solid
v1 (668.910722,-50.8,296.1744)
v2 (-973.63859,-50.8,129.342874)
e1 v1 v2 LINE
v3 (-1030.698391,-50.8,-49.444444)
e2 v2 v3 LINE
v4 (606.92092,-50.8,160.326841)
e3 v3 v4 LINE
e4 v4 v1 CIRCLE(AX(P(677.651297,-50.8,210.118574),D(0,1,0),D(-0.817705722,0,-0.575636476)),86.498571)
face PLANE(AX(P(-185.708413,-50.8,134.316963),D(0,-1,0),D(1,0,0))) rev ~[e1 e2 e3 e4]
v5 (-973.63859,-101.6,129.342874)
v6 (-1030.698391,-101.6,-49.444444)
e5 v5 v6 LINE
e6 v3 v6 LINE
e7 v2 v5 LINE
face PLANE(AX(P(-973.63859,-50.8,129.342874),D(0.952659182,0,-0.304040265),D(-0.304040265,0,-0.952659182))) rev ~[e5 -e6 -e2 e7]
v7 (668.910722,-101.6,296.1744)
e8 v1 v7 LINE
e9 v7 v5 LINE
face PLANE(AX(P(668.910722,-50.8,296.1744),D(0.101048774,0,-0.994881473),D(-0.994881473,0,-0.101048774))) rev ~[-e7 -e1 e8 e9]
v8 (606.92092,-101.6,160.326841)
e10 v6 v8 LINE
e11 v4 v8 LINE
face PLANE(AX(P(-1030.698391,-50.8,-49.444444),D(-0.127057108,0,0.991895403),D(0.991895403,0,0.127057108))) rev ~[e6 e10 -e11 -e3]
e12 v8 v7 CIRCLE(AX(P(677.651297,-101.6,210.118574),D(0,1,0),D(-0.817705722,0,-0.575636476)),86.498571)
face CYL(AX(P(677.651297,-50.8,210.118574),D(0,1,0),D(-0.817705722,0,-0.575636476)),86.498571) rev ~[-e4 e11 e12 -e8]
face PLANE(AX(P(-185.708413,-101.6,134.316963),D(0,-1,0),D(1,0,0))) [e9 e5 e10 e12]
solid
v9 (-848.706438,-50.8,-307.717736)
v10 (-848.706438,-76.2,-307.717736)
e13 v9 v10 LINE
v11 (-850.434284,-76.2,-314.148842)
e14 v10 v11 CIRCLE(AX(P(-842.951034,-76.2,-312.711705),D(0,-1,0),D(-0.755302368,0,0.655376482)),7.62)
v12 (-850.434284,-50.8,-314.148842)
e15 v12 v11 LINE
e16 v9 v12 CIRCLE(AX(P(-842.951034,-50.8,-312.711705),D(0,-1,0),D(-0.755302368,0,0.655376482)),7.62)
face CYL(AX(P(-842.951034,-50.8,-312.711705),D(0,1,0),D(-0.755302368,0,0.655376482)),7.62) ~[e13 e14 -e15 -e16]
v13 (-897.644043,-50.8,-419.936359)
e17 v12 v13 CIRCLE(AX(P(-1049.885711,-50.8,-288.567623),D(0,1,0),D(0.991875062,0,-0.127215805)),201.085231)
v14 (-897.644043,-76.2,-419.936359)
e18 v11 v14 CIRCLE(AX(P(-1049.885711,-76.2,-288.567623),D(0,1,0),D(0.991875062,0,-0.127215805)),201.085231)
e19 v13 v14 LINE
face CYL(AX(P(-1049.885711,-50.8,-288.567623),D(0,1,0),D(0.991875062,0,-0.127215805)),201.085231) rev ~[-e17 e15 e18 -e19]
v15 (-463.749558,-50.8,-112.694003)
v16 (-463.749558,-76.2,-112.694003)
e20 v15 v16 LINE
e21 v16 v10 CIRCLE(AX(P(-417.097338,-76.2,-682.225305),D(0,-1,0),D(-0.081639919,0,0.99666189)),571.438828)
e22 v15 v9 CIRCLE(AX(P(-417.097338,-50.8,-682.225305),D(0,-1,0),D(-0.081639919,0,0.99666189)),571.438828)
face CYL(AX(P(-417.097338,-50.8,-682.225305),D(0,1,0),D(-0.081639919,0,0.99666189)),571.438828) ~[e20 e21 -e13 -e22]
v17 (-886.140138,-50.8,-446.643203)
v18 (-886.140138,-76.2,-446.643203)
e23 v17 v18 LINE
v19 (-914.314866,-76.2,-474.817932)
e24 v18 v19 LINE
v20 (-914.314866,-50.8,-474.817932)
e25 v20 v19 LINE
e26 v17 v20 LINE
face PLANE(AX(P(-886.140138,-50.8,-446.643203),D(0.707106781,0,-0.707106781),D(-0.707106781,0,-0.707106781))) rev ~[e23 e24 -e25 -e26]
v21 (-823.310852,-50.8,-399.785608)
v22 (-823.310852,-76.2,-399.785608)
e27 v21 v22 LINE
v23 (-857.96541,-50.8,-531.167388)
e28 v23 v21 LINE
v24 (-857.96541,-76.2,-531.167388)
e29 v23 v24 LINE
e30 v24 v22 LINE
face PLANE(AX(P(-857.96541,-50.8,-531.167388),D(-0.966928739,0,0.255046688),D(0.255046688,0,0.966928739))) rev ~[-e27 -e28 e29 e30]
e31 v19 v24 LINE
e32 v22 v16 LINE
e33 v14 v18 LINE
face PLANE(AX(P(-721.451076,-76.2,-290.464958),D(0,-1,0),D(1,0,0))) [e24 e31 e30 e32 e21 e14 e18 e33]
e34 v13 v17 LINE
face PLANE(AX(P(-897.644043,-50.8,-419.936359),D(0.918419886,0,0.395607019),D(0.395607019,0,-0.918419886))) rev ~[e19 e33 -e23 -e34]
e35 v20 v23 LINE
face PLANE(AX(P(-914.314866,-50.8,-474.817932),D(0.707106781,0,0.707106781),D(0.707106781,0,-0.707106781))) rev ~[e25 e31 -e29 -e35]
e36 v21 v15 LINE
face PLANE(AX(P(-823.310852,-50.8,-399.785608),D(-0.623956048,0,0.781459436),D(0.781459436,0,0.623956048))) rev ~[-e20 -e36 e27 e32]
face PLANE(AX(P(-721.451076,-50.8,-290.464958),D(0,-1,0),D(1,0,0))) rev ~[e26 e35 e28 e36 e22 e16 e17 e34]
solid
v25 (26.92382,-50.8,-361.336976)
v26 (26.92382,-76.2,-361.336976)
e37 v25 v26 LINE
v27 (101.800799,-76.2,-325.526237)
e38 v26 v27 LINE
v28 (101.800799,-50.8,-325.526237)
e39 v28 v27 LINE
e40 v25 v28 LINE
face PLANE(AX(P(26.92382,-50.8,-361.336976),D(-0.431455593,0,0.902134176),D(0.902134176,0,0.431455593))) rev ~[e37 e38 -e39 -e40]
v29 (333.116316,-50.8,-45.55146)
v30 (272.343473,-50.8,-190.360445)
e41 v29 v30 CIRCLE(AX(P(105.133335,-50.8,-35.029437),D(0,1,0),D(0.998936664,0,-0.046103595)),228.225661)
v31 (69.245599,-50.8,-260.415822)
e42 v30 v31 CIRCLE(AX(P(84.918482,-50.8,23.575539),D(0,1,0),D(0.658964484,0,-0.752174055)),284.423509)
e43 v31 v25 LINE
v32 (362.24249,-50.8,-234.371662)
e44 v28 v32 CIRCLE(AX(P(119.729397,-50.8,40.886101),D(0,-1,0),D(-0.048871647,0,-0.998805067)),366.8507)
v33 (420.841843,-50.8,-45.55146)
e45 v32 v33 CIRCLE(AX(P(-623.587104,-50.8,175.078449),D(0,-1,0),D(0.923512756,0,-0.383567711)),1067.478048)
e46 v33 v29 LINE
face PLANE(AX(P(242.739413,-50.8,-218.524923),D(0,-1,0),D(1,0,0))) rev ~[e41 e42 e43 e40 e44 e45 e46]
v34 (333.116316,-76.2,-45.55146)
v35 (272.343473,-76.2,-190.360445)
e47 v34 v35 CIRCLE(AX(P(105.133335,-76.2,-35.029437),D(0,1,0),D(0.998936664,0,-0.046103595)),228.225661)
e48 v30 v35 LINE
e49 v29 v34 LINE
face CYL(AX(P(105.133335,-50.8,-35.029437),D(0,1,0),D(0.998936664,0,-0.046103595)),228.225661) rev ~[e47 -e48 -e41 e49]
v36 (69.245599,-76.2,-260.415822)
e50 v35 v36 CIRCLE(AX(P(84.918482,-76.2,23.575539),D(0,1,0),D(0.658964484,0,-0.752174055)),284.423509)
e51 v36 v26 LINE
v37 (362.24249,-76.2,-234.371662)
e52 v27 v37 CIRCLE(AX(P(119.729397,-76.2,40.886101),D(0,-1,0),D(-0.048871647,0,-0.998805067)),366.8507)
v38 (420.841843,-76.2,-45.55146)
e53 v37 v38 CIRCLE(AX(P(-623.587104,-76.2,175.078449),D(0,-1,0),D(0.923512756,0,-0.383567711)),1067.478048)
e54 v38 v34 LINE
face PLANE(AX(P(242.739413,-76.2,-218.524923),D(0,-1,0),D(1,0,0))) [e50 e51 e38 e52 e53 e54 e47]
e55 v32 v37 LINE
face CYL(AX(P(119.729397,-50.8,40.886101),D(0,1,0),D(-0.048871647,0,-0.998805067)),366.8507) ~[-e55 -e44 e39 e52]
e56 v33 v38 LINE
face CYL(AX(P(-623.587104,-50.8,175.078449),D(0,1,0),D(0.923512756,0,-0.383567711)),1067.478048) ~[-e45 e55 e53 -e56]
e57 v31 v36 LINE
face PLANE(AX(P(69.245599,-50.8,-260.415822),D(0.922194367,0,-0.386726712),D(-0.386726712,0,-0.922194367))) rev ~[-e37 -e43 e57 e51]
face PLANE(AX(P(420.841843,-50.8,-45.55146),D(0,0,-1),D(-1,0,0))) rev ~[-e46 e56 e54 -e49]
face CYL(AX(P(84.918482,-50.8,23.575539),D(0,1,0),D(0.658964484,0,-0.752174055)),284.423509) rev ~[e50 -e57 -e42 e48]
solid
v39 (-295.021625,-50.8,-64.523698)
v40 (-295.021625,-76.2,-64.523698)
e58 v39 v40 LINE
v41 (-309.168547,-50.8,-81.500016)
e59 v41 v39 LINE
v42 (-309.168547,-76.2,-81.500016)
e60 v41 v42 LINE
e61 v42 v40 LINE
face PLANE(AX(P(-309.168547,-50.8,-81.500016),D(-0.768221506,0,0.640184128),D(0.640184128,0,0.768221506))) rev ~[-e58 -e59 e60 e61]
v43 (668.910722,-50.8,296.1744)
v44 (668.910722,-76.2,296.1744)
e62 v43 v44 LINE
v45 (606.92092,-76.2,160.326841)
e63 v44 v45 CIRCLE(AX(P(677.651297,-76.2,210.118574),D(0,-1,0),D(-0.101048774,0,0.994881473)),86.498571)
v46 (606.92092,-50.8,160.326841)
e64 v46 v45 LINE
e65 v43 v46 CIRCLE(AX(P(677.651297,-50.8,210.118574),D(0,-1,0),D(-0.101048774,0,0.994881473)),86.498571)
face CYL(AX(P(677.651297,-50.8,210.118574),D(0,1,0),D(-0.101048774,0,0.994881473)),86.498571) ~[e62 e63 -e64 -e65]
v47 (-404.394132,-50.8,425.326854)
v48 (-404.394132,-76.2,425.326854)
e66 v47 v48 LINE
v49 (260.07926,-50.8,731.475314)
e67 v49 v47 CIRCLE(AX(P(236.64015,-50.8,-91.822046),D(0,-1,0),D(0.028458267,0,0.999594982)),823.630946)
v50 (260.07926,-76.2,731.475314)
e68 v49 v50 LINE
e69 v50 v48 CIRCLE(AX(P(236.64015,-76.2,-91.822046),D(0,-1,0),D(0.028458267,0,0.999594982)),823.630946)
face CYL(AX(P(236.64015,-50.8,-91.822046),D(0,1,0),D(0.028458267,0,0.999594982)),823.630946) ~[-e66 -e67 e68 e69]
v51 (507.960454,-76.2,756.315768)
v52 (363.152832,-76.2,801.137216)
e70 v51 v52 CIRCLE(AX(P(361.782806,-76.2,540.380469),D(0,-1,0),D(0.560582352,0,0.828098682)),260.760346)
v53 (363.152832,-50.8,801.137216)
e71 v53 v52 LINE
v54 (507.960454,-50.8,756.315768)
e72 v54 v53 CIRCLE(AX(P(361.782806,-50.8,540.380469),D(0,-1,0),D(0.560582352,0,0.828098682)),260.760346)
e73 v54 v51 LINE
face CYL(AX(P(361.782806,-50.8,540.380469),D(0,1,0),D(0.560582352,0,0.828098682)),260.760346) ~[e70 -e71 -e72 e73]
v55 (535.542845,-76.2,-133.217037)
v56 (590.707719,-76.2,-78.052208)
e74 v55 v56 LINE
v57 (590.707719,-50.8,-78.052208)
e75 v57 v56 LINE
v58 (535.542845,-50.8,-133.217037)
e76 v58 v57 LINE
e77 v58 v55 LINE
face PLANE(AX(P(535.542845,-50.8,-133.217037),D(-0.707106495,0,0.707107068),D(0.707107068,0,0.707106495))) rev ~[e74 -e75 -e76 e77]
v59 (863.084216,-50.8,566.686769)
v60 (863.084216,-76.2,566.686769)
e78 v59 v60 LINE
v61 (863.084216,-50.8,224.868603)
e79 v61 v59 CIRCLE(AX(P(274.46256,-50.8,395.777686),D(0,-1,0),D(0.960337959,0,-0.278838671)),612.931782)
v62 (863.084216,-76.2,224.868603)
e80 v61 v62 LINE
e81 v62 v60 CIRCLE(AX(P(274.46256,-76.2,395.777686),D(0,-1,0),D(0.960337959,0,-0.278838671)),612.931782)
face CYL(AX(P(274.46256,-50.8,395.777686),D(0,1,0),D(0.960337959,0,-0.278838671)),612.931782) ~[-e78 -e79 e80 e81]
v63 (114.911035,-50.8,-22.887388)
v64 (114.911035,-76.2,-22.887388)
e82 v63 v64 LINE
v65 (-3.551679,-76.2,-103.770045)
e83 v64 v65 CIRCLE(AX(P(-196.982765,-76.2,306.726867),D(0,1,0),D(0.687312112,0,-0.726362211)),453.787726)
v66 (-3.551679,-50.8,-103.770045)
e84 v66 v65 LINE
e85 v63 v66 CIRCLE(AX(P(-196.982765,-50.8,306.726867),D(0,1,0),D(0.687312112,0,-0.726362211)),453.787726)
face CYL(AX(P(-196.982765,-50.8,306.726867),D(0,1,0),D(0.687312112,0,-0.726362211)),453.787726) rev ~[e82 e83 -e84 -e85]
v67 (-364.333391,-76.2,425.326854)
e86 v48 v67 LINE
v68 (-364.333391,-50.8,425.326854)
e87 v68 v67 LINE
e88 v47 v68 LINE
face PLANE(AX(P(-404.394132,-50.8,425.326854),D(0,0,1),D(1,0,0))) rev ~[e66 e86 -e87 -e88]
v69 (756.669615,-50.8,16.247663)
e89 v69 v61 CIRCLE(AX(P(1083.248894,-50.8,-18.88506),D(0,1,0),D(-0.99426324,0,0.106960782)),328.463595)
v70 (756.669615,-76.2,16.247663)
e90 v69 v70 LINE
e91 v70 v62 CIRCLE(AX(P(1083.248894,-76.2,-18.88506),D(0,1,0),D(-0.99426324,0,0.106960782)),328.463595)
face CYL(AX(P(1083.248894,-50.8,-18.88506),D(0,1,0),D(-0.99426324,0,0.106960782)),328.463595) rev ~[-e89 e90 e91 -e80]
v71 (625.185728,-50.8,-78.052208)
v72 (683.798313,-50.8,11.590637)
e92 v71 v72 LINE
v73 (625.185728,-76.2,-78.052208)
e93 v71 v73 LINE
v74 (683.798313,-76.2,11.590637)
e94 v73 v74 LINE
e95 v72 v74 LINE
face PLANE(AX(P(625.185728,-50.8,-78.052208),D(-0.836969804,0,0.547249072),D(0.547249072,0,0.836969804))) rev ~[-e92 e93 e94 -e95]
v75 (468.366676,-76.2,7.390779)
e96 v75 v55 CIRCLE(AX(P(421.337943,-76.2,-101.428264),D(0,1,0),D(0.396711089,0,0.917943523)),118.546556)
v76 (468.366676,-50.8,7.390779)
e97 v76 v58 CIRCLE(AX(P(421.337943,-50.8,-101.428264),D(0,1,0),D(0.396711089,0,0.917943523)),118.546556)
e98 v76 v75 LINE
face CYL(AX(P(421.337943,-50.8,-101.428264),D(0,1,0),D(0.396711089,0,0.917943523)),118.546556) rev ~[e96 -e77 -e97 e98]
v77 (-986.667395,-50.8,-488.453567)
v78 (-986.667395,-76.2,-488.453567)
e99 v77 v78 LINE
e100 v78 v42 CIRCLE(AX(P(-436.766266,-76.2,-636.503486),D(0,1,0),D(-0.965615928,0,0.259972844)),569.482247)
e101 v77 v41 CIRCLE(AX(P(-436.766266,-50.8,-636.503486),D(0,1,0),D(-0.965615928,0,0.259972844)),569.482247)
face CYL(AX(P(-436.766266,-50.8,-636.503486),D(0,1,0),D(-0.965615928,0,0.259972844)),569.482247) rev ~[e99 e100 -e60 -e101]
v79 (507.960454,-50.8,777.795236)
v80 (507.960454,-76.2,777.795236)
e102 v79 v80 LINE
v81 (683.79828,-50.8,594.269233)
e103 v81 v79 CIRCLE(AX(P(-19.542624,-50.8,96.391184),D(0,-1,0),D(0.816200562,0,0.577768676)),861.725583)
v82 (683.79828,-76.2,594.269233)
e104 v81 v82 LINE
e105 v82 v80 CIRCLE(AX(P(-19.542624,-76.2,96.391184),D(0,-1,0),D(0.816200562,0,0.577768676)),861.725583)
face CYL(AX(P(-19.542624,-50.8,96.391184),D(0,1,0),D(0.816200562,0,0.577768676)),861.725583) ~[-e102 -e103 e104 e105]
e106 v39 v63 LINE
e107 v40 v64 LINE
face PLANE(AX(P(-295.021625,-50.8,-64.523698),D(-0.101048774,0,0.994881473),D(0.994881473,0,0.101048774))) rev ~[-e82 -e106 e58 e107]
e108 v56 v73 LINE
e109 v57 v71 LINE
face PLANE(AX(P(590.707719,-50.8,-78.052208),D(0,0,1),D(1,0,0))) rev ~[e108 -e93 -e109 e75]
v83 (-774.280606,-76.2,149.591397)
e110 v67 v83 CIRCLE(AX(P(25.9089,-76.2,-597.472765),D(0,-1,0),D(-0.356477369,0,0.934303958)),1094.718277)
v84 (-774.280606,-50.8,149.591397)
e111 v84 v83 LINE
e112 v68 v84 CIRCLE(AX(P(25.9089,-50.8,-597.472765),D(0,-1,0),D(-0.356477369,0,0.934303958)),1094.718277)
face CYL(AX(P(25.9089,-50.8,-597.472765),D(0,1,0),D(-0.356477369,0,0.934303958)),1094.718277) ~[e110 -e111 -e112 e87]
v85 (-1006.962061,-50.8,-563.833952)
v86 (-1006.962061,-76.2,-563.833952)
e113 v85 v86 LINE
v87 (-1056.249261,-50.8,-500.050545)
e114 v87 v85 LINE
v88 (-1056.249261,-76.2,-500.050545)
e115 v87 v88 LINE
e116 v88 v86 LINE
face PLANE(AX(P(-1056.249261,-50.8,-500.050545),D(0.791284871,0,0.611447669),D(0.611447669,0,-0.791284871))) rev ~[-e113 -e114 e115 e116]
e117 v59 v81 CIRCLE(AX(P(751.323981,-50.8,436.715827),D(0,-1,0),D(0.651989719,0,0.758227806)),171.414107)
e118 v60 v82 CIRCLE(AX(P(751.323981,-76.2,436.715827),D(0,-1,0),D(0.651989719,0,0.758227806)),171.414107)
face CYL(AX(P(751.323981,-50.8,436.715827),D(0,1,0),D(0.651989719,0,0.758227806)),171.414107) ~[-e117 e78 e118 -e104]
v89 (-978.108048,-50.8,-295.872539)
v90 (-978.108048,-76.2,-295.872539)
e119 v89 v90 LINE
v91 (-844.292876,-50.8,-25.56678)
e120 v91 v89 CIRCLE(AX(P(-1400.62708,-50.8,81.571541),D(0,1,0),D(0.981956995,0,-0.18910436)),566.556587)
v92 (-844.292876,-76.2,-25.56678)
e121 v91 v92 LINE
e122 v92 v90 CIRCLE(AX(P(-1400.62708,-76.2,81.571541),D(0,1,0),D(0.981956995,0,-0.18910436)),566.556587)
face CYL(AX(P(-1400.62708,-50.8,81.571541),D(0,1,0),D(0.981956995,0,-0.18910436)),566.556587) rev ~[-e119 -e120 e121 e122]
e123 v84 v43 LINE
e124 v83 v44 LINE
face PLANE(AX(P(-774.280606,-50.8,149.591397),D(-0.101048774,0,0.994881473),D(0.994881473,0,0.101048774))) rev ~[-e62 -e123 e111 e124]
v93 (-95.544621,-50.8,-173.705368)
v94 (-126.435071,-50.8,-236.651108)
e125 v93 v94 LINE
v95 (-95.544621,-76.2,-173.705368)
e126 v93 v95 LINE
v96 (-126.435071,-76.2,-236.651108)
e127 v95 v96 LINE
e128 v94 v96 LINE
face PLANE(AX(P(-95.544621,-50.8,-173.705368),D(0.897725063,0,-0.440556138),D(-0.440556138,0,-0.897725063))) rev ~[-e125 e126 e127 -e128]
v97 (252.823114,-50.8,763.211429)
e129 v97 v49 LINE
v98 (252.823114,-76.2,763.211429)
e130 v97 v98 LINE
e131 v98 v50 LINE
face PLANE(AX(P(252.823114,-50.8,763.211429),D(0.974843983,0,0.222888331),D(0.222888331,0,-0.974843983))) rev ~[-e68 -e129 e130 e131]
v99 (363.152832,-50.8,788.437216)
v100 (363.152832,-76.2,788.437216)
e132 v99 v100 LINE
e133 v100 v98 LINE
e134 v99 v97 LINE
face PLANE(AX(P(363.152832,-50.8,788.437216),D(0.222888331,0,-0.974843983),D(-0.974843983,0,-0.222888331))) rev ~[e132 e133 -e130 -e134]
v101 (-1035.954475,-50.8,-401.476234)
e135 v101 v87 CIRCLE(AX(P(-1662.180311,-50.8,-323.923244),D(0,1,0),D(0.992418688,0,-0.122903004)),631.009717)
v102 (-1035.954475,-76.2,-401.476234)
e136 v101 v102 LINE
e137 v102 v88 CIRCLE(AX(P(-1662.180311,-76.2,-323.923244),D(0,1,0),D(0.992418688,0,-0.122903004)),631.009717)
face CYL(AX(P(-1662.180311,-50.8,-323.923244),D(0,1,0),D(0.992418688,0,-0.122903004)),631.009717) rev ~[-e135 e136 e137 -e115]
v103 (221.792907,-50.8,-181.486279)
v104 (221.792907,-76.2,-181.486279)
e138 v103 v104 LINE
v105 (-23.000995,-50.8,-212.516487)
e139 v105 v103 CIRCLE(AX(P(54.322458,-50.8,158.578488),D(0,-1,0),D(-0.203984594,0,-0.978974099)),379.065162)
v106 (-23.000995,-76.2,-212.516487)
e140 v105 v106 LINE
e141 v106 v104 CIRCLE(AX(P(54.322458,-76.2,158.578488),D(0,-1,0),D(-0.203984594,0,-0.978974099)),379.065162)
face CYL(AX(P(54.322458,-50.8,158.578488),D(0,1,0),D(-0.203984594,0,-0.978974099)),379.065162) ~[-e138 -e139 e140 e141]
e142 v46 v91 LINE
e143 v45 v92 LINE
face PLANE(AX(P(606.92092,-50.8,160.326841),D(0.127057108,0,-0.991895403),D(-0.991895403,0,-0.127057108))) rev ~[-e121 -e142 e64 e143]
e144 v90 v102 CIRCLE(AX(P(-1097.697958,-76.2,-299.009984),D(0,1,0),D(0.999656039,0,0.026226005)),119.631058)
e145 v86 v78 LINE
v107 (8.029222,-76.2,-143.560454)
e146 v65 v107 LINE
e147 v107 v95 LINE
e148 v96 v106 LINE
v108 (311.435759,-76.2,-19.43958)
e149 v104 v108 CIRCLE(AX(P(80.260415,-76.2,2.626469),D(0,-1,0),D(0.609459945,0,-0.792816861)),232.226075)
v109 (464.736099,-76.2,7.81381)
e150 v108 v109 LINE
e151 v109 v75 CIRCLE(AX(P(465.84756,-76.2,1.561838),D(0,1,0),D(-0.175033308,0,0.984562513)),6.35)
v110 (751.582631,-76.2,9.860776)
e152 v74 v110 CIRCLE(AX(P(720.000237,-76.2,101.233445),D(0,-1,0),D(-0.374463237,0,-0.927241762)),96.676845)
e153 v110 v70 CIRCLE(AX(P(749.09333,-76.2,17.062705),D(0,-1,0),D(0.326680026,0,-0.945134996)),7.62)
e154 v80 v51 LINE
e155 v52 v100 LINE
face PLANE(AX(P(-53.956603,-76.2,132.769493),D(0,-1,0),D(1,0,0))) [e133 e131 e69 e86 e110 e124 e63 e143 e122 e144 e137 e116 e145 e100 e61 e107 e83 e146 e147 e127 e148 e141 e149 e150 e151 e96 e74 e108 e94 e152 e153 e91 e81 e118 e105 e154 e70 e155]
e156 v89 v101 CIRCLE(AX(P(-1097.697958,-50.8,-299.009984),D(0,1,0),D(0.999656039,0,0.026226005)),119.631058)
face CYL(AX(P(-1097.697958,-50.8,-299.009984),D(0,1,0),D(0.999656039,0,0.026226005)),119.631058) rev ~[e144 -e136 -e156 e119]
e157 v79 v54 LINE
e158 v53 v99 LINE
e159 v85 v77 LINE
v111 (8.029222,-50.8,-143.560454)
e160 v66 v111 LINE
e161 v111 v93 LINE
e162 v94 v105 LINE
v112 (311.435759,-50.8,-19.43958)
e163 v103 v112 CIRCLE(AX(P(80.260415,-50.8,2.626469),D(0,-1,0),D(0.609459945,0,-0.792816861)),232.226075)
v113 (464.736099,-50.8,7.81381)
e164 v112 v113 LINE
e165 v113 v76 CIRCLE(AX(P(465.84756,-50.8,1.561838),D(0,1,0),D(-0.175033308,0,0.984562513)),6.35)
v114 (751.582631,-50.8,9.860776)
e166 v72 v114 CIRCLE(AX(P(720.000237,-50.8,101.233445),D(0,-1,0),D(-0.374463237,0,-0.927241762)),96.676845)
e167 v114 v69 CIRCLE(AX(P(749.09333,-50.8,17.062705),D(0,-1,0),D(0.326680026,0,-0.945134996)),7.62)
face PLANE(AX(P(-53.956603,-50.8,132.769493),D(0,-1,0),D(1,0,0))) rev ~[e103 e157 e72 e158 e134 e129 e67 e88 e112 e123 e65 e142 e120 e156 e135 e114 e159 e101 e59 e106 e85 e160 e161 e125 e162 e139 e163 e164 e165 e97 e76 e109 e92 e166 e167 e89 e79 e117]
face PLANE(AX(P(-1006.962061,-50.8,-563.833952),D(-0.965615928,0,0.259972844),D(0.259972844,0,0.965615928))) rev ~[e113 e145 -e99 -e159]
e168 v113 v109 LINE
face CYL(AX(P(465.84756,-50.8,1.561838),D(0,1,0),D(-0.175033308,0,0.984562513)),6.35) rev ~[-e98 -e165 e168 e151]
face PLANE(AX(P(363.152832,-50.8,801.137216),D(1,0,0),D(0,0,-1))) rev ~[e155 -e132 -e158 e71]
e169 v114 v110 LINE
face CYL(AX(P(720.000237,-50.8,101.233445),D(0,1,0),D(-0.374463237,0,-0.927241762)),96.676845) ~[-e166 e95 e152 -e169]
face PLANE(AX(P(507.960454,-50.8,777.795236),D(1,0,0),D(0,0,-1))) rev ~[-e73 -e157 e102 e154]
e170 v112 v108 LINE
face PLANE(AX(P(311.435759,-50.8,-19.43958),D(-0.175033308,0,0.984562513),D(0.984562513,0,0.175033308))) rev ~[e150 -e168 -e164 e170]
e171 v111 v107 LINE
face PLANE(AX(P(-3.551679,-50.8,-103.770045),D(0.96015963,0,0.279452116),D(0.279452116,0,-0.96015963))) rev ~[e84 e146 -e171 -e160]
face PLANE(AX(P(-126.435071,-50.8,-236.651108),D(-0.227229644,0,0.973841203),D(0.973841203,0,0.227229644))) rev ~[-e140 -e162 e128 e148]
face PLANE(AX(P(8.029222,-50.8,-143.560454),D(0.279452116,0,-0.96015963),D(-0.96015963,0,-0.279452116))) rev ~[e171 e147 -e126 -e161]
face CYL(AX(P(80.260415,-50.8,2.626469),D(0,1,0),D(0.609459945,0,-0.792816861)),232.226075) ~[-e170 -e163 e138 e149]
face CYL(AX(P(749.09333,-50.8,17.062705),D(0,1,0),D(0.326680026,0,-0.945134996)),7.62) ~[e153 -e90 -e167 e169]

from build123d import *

# Parameters (mm, degrees)
F1_DEPTH  = 50.8
F3_DEPTH  = 25.4
F5_DEPTH  = 50.8
F7_DEPTH  = 50.8
F9_DEPTH  = 25.4
F11_DEPTH = 25.4
F13_DEPTH = 25.4
F15_DEPTH = 25.4


with BuildPart() as f1:
    # F0 (on Front) → F1 (new body)
    with BuildSketch(Plane.XZ):
        with BuildLine():
            Line((668.9107223376, 296.1744000085), (-973.638589538, 129.3428740397))
            Line((-973.638589538, 129.3428740397), (-1030.6983907301, -49.4444440727))
            Line((-1030.6983907301, -49.4444440727), (606.9209202884, 160.326841329))
            ThreePointArc((606.9209202884, 160.326841329), (598.9585537881, 246.0275562701), (668.9107223376, 296.1744000085))
        make_face()
    extrude(amount=F1_DEPTH)

    # F6 (on face) → F7 (cut)
    with BuildSketch(Plane(origin=(0, 0, 0), x_dir=(-1, 0, 0), z_dir=(0, 1, 0))):
        with BuildLine():
            Line((973.638589538, 129.3428740397), (-668.9107223376, 296.1744000085))
            ThreePointArc((-668.9107223376, 296.1744000085), (-598.9585537881, 246.0275562701), (-606.9209202884, 160.326841329))
            Line((-606.9209202884, 160.326841329), (1030.6983907301, -49.4444440727))
            Line((1030.6983907301, -49.4444440727), (973.638589538, 129.3428740397))
        make_face()
    extrude(amount=-F7_DEPTH, mode=Mode.SUBTRACT)


with BuildPart() as f3:
    # F2 (on face) → F3 (new body)
    with BuildSketch(Plane.XZ.offset(50.8)):
        with BuildLine():
            Line((252.8231143951, 763.2114291191), (260.0792597578, 731.4753143195))
            ThreePointArc((260.0792597578, 731.4753143195), (-108.0157204055, 656.2289322909), (-404.3941316745, 425.3268539906))
            Line((-404.3941316745, 425.3268539906), (-364.3333911896, 425.3268539906))
            ThreePointArc((-364.3333911896, 425.3268539906), (-585.0653026288, 310.8876425767), (-774.2806055216, 149.5913965328))
            Line((-774.2806055216, 149.5913965328), (668.9107223376, 296.1744000085))
            ThreePointArc((668.9107223376, 296.1744000085), (598.9585537881, 246.0275562701), (606.9209202884, 160.326841329))
            Line((606.9209202884, 160.326841329), (-844.2928764091, -25.5667796595))
            ThreePointArc((-844.2928764091, -25.5667796595), (-892.8823459917, -169.7880637292), (-978.108048439, -295.8725392818))
            ThreePointArc((-978.108048439, -295.8725392818), (-992.7766309961, -356.4826312083), (-1035.9544754028, -401.4762341976))
            ThreePointArc((-1035.9544754028, -401.4762341976), (-1044.1334912394, -451.1686450263), (-1056.2492609024, -500.0505447388))
            Line((-1056.2492609024, -500.0505447388), (-1006.9620609283, -563.8339519501))
            Line((-1006.9620609283, -563.8339519501), (-986.6673946381, -488.453567028))
            ThreePointArc((-986.6673946381, -488.453567028), (-730.0030998205, -148.32094961), (-309.1685473919, -81.5000161529))
            Line((-309.1685473919, -81.5000161529), (-295.0216254312, -64.5236975716))
            Line((-295.0216254312, -64.5236975716), (114.9110347033, -22.8873882443))
            ThreePointArc((114.9110347033, -22.8873882443), (58.8957433569, -68.0390446038), (-3.5516790672, -103.7700447186))
            Line((-3.5516790672, -103.7700447186), (8.0292224884, -143.5604542494))
            Line((8.0292224884, -143.5604542494), (-95.5446205932, -173.7053684286))
            Line((-95.5446205932, -173.7053684286), (-126.4350712299, -236.6511076689))
            Line((-126.4350712299, -236.6511076689), (-23.0009946972, -212.5164866447))
            ThreePointArc((-23.0009946972, -212.5164866447), (101.9915115452, -217.4774359696), (221.7929065228, -181.4862787724))
            ThreePointArc((221.7929065228, -181.4862787724), (283.4661379535, -109.7852043171), (311.4357590675, -19.439579919))
            Line((311.4357590675, -19.439579919), (464.7360989186, 7.8138095175))
            ThreePointArc((464.7360989186, 7.8138095175), (466.5824829372, 7.869165753), (468.3666758386, 7.3907789354))
            ThreePointArc((468.3666758386, 7.3907789354), (528.3038755098, -50.3246919943), (535.54284547, -133.2170366528))
            Line((535.54284547, -133.2170366528), (590.7077191624, -78.0522076639))
            Line((590.7077191624, -78.0522076639), (625.1857280731, -78.0522076639))
            Line((625.1857280731, -78.0522076639), (683.7983130659, 11.5906373156))
            ThreePointArc((683.7983130659, 11.5906373156), (717.5338391437, 4.5880666159), (751.5826313881, 9.8607758671))
            ThreePointArc((751.5826313881, 9.8607758671), (755.0537907212, 12.3153575814), (756.6696154819, 16.2476633745))
            ThreePointArc((756.6696154819, 16.2476633745), (790.6520509526, 130.3644655572), (863.0842160836, 224.868602585))
            ThreePointArc((863.0842160836, 224.868602585), (887.3943414393, 395.7776857329), (863.0842160836, 566.6867688808))
            ThreePointArc((863.0842160836, 566.6867688808), (777.3887385904, 606.1366766902), (683.7982803898, 594.269232872))
            ThreePointArc((683.7982803898, 594.269232872), (602.682958571, 692.5508134266), (507.9604538295, 777.7952361509))
            Line((507.9604538295, 777.7952361509), (507.9604538295, 756.315767765))
            ThreePointArc((507.9604538295, 756.315767765), (438.8854619383, 789.4811282868), (363.1528318299, 801.1372159736))
            Line((363.1528318299, 801.1372159736), (363.1528318299, 788.4372159736))
            Line((363.1528318299, 788.4372159736), (252.8231143951, 763.2114291191))
        make_face()
    extrude(amount=F3_DEPTH)

    # F14 (on face) → F15 (cut)
    with BuildSketch(Plane(origin=(0, -25.4, 0), x_dir=(-1, 0, 0), z_dir=(0, 1, 0))):
        with BuildLine():
            Line((-26.9238203764, -361.3369762897), (-69.2455992103, -260.4158222675))
            ThreePointArc((-69.2455992103, -260.4158222675), (-177.6634852356, -245.3019366193), (-272.3434729128, -190.3604451668))
            ThreePointArc((-272.3434729128, -190.3604451668), (-315.5776524746, -123.34784734), (-333.116315579, -45.5514602363))
            Line((-333.116315579, -45.5514602363), (-420.8418428898, -45.5514602363))
            ThreePointArc((-420.8418428898, -45.5514602363), (-395.9229268117, -141.3211070327), (-362.2424900532, -234.3716621399))
            ThreePointArc((-362.2424900532, -234.3716621399), (-240.9186624153, -305.3690049671), (-101.8007993698, -325.5262374878))
            Line((-101.8007993698, -325.5262374878), (-26.9238203764, -361.3369762897))
        make_face()
    extrude(amount=-F15_DEPTH, mode=Mode.SUBTRACT)


with BuildPart() as f5:
    # F4 (on face) → F5 (new body)
    with BuildSketch(Plane.XZ.offset(50.8)):
        with BuildLine():
            Line((668.9107223376, 296.1744000085), (-973.638589538, 129.3428740397))
            Line((-973.638589538, 129.3428740397), (-1030.6983907301, -49.4444440727))
            Line((-1030.6983907301, -49.4444440727), (606.9209202884, 160.326841329))
            ThreePointArc((606.9209202884, 160.326841329), (598.9585537881, 246.0275562701), (668.9107223376, 296.1744000085))
        make_face()
    extrude(amount=F5_DEPTH)


with BuildPart() as f9:
    # F8 (on face) → F9 (new body)
    with BuildSketch(Plane(origin=(0, -50.8, 0), x_dir=(-1, 0, 0), z_dir=(0, 1, 0))):
        with BuildLine():
            ThreePointArc((850.4342842837, -314.1488422037), (850.3100605438, -310.7345540712), (848.7064378979, -307.717736311))
            ThreePointArc((848.7064378979, -307.717736311), (675.3453518171, -172.4701702764), (463.7495577336, -112.694002688))
            Line((463.7495577336, -112.694002688), (823.3108520508, -399.7856080532))
            Line((823.3108520508, -399.7856080532), (857.9654097557, -531.1673879623))
            Line((857.9654097557, -531.1673879623), (914.314866066, -474.8179316521))
            Line((914.314866066, -474.8179316521), (886.1401379108, -446.6432034969))
            Line((886.1401379108, -446.6432034969), (897.6440429687, -419.9363589287))
            ThreePointArc((897.6440429687, -419.9363589287), (866.2563072958, -370.5158531825), (850.4342842837, -314.1488422037))
        make_face()
    extrude(amount=F9_DEPTH)


with BuildPart() as f9b:
    # F8 (on face) → F9, piece 2 (new body)
    with BuildSketch(Plane(origin=(0, -50.8, 0), x_dir=(-1, 0, 0), z_dir=(0, 1, 0))):
        with BuildLine():
            ThreePointArc((-272.3434729128, -190.3604451668), (-315.5776524746, -123.34784734), (-333.116315579, -45.5514602363))
            Line((-333.116315579, -45.5514602363), (-420.8418428898, -45.5514602363))
            ThreePointArc((-420.8418428898, -45.5514602363), (-395.9229268117, -141.3211070327), (-362.2424900532, -234.3716621399))
            ThreePointArc((-362.2424900532, -234.3716621399), (-240.9186624153, -305.3690049671), (-101.8007993698, -325.5262374878))
            Line((-101.8007993698, -325.5262374878), (-26.9238203764, -361.3369762897))
            Line((-26.9238203764, -361.3369762897), (-69.2455992103, -260.4158222675))
            ThreePointArc((-69.2455992103, -260.4158222675), (-177.6634852356, -245.3019366193), (-272.3434729128, -190.3604451668))
        make_face()
    extrude(amount=F9_DEPTH)


with BuildPart() as f11:
    # F10 (on face) → F11 (new body)
    with BuildSketch(Plane.XZ.offset(50.8)):
        with BuildLine():
            Line((-823.3108520508, -399.7856080532), (-463.7495577336, -112.694002688))
            ThreePointArc((-463.7495577336, -112.694002688), (-675.3453518171, -172.4701702764), (-848.7064378979, -307.717736311))
            ThreePointArc((-848.7064378979, -307.717736311), (-850.3100605438, -310.7345540712), (-850.4342842837, -314.1488422037))
            ThreePointArc((-850.4342842837, -314.1488422037), (-866.2563072958, -370.5158531825), (-897.6440429687, -419.9363589287))
            Line((-897.6440429687, -419.9363589287), (-886.1401379108, -446.6432034969))
            Line((-886.1401379108, -446.6432034969), (-914.314866066, -474.8179316521))
            Line((-914.314866066, -474.8179316521), (-857.9654097557, -531.1673879623))
            Line((-857.9654097557, -531.1673879623), (-823.3108520508, -399.7856080532))
        make_face()
    extrude(amount=F11_DEPTH)


with BuildPart() as f11b:
    # F10 (on face) → F11, piece 2 (new body)
    with BuildSketch(Plane.XZ.offset(50.8)):
        with BuildLine():
            ThreePointArc((362.2424900532, -234.3716621399), (395.9229268117, -141.3211070327), (420.8418428898, -45.5514602363))
            Line((420.8418428898, -45.5514602363), (333.116315579, -45.5514602363))
            ThreePointArc((333.116315579, -45.5514602363), (315.5776524746, -123.34784734), (272.3434729128, -190.3604451668))
            ThreePointArc((272.3434729128, -190.3604451668), (177.6634852356, -245.3019366193), (69.2455992103, -260.4158222675))
            Line((69.2455992103, -260.4158222675), (26.9238203764, -361.3369762897))
            Line((26.9238203764, -361.3369762897), (101.8007993698, -325.5262374878))
            ThreePointArc((101.8007993698, -325.5262374878), (240.9186624153, -305.3690049671), (362.2424900532, -234.3716621399))
        make_face()
    extrude(amount=F11_DEPTH)


with BuildPart() as f13_tool:
    # F12 (on face) → F13 (new body)
    with BuildSketch(Plane(origin=(0, -25.4, 0), x_dir=(-1, 0, 0), z_dir=(0, 1, 0))):
        with BuildLine():
            Line((886.1401379108, -446.6432034969), (897.6440429687, -419.9363589287))
            ThreePointArc((897.6440429687, -419.9363589287), (866.2563072958, -370.5158531825), (850.4342842837, -314.1488422037))
            ThreePointArc((850.4342842837, -314.1488422037), (850.3100605438, -310.7345540712), (848.7064378979, -307.717736311))
            ThreePointArc((848.7064378979, -307.717736311), (675.3453518171, -172.4701702764), (463.7495577336, -112.694002688))
            Line((463.7495577336, -112.694002688), (823.3108520508, -399.7856080532))
            Line((823.3108520508, -399.7856080532), (857.9654097557, -531.1673879623))
            Line((857.9654097557, -531.1673879623), (914.314866066, -474.8179316521))
            Line((914.314866066, -474.8179316521), (886.1401379108, -446.6432034969))
        make_face()
        with BuildLine():
            Line((-26.9238203764, -361.3369762897), (-69.2455992103, -260.4158222675))
            ThreePointArc((-69.2455992103, -260.4158222675), (-177.6634852356, -245.3019366193), (-272.3434729128, -190.3604451668))
            ThreePointArc((-272.3434729128, -190.3604451668), (-315.5776524746, -123.34784734), (-333.116315579, -45.5514602363))
            Line((-333.116315579, -45.5514602363), (-420.8418428898, -45.5514602363))
            ThreePointArc((-420.8418428898, -45.5514602363), (-395.9229268117, -141.3211070327), (-362.2424900532, -234.3716621399))
            ThreePointArc((-362.2424900532, -234.3716621399), (-240.9186624153, -305.3690049671), (-101.8007993698, -325.5262374878))
            Line((-101.8007993698, -325.5262374878), (-26.9238203764, -361.3369762897))
        make_face()
    extrude(amount=-F13_DEPTH)


with BuildPart() as f9_1:
    add(f9.part)

    # F13: cut by f13_tool
    add(f13_tool.part, mode=Mode.SUBTRACT)


with BuildPart() as f9b_1:
    add(f9b.part)

    # F13: cut by f13_tool
    add(f13_tool.part, mode=Mode.SUBTRACT)


solid = Compound([f3.part, f5.part, f11.part, f11b.part])
